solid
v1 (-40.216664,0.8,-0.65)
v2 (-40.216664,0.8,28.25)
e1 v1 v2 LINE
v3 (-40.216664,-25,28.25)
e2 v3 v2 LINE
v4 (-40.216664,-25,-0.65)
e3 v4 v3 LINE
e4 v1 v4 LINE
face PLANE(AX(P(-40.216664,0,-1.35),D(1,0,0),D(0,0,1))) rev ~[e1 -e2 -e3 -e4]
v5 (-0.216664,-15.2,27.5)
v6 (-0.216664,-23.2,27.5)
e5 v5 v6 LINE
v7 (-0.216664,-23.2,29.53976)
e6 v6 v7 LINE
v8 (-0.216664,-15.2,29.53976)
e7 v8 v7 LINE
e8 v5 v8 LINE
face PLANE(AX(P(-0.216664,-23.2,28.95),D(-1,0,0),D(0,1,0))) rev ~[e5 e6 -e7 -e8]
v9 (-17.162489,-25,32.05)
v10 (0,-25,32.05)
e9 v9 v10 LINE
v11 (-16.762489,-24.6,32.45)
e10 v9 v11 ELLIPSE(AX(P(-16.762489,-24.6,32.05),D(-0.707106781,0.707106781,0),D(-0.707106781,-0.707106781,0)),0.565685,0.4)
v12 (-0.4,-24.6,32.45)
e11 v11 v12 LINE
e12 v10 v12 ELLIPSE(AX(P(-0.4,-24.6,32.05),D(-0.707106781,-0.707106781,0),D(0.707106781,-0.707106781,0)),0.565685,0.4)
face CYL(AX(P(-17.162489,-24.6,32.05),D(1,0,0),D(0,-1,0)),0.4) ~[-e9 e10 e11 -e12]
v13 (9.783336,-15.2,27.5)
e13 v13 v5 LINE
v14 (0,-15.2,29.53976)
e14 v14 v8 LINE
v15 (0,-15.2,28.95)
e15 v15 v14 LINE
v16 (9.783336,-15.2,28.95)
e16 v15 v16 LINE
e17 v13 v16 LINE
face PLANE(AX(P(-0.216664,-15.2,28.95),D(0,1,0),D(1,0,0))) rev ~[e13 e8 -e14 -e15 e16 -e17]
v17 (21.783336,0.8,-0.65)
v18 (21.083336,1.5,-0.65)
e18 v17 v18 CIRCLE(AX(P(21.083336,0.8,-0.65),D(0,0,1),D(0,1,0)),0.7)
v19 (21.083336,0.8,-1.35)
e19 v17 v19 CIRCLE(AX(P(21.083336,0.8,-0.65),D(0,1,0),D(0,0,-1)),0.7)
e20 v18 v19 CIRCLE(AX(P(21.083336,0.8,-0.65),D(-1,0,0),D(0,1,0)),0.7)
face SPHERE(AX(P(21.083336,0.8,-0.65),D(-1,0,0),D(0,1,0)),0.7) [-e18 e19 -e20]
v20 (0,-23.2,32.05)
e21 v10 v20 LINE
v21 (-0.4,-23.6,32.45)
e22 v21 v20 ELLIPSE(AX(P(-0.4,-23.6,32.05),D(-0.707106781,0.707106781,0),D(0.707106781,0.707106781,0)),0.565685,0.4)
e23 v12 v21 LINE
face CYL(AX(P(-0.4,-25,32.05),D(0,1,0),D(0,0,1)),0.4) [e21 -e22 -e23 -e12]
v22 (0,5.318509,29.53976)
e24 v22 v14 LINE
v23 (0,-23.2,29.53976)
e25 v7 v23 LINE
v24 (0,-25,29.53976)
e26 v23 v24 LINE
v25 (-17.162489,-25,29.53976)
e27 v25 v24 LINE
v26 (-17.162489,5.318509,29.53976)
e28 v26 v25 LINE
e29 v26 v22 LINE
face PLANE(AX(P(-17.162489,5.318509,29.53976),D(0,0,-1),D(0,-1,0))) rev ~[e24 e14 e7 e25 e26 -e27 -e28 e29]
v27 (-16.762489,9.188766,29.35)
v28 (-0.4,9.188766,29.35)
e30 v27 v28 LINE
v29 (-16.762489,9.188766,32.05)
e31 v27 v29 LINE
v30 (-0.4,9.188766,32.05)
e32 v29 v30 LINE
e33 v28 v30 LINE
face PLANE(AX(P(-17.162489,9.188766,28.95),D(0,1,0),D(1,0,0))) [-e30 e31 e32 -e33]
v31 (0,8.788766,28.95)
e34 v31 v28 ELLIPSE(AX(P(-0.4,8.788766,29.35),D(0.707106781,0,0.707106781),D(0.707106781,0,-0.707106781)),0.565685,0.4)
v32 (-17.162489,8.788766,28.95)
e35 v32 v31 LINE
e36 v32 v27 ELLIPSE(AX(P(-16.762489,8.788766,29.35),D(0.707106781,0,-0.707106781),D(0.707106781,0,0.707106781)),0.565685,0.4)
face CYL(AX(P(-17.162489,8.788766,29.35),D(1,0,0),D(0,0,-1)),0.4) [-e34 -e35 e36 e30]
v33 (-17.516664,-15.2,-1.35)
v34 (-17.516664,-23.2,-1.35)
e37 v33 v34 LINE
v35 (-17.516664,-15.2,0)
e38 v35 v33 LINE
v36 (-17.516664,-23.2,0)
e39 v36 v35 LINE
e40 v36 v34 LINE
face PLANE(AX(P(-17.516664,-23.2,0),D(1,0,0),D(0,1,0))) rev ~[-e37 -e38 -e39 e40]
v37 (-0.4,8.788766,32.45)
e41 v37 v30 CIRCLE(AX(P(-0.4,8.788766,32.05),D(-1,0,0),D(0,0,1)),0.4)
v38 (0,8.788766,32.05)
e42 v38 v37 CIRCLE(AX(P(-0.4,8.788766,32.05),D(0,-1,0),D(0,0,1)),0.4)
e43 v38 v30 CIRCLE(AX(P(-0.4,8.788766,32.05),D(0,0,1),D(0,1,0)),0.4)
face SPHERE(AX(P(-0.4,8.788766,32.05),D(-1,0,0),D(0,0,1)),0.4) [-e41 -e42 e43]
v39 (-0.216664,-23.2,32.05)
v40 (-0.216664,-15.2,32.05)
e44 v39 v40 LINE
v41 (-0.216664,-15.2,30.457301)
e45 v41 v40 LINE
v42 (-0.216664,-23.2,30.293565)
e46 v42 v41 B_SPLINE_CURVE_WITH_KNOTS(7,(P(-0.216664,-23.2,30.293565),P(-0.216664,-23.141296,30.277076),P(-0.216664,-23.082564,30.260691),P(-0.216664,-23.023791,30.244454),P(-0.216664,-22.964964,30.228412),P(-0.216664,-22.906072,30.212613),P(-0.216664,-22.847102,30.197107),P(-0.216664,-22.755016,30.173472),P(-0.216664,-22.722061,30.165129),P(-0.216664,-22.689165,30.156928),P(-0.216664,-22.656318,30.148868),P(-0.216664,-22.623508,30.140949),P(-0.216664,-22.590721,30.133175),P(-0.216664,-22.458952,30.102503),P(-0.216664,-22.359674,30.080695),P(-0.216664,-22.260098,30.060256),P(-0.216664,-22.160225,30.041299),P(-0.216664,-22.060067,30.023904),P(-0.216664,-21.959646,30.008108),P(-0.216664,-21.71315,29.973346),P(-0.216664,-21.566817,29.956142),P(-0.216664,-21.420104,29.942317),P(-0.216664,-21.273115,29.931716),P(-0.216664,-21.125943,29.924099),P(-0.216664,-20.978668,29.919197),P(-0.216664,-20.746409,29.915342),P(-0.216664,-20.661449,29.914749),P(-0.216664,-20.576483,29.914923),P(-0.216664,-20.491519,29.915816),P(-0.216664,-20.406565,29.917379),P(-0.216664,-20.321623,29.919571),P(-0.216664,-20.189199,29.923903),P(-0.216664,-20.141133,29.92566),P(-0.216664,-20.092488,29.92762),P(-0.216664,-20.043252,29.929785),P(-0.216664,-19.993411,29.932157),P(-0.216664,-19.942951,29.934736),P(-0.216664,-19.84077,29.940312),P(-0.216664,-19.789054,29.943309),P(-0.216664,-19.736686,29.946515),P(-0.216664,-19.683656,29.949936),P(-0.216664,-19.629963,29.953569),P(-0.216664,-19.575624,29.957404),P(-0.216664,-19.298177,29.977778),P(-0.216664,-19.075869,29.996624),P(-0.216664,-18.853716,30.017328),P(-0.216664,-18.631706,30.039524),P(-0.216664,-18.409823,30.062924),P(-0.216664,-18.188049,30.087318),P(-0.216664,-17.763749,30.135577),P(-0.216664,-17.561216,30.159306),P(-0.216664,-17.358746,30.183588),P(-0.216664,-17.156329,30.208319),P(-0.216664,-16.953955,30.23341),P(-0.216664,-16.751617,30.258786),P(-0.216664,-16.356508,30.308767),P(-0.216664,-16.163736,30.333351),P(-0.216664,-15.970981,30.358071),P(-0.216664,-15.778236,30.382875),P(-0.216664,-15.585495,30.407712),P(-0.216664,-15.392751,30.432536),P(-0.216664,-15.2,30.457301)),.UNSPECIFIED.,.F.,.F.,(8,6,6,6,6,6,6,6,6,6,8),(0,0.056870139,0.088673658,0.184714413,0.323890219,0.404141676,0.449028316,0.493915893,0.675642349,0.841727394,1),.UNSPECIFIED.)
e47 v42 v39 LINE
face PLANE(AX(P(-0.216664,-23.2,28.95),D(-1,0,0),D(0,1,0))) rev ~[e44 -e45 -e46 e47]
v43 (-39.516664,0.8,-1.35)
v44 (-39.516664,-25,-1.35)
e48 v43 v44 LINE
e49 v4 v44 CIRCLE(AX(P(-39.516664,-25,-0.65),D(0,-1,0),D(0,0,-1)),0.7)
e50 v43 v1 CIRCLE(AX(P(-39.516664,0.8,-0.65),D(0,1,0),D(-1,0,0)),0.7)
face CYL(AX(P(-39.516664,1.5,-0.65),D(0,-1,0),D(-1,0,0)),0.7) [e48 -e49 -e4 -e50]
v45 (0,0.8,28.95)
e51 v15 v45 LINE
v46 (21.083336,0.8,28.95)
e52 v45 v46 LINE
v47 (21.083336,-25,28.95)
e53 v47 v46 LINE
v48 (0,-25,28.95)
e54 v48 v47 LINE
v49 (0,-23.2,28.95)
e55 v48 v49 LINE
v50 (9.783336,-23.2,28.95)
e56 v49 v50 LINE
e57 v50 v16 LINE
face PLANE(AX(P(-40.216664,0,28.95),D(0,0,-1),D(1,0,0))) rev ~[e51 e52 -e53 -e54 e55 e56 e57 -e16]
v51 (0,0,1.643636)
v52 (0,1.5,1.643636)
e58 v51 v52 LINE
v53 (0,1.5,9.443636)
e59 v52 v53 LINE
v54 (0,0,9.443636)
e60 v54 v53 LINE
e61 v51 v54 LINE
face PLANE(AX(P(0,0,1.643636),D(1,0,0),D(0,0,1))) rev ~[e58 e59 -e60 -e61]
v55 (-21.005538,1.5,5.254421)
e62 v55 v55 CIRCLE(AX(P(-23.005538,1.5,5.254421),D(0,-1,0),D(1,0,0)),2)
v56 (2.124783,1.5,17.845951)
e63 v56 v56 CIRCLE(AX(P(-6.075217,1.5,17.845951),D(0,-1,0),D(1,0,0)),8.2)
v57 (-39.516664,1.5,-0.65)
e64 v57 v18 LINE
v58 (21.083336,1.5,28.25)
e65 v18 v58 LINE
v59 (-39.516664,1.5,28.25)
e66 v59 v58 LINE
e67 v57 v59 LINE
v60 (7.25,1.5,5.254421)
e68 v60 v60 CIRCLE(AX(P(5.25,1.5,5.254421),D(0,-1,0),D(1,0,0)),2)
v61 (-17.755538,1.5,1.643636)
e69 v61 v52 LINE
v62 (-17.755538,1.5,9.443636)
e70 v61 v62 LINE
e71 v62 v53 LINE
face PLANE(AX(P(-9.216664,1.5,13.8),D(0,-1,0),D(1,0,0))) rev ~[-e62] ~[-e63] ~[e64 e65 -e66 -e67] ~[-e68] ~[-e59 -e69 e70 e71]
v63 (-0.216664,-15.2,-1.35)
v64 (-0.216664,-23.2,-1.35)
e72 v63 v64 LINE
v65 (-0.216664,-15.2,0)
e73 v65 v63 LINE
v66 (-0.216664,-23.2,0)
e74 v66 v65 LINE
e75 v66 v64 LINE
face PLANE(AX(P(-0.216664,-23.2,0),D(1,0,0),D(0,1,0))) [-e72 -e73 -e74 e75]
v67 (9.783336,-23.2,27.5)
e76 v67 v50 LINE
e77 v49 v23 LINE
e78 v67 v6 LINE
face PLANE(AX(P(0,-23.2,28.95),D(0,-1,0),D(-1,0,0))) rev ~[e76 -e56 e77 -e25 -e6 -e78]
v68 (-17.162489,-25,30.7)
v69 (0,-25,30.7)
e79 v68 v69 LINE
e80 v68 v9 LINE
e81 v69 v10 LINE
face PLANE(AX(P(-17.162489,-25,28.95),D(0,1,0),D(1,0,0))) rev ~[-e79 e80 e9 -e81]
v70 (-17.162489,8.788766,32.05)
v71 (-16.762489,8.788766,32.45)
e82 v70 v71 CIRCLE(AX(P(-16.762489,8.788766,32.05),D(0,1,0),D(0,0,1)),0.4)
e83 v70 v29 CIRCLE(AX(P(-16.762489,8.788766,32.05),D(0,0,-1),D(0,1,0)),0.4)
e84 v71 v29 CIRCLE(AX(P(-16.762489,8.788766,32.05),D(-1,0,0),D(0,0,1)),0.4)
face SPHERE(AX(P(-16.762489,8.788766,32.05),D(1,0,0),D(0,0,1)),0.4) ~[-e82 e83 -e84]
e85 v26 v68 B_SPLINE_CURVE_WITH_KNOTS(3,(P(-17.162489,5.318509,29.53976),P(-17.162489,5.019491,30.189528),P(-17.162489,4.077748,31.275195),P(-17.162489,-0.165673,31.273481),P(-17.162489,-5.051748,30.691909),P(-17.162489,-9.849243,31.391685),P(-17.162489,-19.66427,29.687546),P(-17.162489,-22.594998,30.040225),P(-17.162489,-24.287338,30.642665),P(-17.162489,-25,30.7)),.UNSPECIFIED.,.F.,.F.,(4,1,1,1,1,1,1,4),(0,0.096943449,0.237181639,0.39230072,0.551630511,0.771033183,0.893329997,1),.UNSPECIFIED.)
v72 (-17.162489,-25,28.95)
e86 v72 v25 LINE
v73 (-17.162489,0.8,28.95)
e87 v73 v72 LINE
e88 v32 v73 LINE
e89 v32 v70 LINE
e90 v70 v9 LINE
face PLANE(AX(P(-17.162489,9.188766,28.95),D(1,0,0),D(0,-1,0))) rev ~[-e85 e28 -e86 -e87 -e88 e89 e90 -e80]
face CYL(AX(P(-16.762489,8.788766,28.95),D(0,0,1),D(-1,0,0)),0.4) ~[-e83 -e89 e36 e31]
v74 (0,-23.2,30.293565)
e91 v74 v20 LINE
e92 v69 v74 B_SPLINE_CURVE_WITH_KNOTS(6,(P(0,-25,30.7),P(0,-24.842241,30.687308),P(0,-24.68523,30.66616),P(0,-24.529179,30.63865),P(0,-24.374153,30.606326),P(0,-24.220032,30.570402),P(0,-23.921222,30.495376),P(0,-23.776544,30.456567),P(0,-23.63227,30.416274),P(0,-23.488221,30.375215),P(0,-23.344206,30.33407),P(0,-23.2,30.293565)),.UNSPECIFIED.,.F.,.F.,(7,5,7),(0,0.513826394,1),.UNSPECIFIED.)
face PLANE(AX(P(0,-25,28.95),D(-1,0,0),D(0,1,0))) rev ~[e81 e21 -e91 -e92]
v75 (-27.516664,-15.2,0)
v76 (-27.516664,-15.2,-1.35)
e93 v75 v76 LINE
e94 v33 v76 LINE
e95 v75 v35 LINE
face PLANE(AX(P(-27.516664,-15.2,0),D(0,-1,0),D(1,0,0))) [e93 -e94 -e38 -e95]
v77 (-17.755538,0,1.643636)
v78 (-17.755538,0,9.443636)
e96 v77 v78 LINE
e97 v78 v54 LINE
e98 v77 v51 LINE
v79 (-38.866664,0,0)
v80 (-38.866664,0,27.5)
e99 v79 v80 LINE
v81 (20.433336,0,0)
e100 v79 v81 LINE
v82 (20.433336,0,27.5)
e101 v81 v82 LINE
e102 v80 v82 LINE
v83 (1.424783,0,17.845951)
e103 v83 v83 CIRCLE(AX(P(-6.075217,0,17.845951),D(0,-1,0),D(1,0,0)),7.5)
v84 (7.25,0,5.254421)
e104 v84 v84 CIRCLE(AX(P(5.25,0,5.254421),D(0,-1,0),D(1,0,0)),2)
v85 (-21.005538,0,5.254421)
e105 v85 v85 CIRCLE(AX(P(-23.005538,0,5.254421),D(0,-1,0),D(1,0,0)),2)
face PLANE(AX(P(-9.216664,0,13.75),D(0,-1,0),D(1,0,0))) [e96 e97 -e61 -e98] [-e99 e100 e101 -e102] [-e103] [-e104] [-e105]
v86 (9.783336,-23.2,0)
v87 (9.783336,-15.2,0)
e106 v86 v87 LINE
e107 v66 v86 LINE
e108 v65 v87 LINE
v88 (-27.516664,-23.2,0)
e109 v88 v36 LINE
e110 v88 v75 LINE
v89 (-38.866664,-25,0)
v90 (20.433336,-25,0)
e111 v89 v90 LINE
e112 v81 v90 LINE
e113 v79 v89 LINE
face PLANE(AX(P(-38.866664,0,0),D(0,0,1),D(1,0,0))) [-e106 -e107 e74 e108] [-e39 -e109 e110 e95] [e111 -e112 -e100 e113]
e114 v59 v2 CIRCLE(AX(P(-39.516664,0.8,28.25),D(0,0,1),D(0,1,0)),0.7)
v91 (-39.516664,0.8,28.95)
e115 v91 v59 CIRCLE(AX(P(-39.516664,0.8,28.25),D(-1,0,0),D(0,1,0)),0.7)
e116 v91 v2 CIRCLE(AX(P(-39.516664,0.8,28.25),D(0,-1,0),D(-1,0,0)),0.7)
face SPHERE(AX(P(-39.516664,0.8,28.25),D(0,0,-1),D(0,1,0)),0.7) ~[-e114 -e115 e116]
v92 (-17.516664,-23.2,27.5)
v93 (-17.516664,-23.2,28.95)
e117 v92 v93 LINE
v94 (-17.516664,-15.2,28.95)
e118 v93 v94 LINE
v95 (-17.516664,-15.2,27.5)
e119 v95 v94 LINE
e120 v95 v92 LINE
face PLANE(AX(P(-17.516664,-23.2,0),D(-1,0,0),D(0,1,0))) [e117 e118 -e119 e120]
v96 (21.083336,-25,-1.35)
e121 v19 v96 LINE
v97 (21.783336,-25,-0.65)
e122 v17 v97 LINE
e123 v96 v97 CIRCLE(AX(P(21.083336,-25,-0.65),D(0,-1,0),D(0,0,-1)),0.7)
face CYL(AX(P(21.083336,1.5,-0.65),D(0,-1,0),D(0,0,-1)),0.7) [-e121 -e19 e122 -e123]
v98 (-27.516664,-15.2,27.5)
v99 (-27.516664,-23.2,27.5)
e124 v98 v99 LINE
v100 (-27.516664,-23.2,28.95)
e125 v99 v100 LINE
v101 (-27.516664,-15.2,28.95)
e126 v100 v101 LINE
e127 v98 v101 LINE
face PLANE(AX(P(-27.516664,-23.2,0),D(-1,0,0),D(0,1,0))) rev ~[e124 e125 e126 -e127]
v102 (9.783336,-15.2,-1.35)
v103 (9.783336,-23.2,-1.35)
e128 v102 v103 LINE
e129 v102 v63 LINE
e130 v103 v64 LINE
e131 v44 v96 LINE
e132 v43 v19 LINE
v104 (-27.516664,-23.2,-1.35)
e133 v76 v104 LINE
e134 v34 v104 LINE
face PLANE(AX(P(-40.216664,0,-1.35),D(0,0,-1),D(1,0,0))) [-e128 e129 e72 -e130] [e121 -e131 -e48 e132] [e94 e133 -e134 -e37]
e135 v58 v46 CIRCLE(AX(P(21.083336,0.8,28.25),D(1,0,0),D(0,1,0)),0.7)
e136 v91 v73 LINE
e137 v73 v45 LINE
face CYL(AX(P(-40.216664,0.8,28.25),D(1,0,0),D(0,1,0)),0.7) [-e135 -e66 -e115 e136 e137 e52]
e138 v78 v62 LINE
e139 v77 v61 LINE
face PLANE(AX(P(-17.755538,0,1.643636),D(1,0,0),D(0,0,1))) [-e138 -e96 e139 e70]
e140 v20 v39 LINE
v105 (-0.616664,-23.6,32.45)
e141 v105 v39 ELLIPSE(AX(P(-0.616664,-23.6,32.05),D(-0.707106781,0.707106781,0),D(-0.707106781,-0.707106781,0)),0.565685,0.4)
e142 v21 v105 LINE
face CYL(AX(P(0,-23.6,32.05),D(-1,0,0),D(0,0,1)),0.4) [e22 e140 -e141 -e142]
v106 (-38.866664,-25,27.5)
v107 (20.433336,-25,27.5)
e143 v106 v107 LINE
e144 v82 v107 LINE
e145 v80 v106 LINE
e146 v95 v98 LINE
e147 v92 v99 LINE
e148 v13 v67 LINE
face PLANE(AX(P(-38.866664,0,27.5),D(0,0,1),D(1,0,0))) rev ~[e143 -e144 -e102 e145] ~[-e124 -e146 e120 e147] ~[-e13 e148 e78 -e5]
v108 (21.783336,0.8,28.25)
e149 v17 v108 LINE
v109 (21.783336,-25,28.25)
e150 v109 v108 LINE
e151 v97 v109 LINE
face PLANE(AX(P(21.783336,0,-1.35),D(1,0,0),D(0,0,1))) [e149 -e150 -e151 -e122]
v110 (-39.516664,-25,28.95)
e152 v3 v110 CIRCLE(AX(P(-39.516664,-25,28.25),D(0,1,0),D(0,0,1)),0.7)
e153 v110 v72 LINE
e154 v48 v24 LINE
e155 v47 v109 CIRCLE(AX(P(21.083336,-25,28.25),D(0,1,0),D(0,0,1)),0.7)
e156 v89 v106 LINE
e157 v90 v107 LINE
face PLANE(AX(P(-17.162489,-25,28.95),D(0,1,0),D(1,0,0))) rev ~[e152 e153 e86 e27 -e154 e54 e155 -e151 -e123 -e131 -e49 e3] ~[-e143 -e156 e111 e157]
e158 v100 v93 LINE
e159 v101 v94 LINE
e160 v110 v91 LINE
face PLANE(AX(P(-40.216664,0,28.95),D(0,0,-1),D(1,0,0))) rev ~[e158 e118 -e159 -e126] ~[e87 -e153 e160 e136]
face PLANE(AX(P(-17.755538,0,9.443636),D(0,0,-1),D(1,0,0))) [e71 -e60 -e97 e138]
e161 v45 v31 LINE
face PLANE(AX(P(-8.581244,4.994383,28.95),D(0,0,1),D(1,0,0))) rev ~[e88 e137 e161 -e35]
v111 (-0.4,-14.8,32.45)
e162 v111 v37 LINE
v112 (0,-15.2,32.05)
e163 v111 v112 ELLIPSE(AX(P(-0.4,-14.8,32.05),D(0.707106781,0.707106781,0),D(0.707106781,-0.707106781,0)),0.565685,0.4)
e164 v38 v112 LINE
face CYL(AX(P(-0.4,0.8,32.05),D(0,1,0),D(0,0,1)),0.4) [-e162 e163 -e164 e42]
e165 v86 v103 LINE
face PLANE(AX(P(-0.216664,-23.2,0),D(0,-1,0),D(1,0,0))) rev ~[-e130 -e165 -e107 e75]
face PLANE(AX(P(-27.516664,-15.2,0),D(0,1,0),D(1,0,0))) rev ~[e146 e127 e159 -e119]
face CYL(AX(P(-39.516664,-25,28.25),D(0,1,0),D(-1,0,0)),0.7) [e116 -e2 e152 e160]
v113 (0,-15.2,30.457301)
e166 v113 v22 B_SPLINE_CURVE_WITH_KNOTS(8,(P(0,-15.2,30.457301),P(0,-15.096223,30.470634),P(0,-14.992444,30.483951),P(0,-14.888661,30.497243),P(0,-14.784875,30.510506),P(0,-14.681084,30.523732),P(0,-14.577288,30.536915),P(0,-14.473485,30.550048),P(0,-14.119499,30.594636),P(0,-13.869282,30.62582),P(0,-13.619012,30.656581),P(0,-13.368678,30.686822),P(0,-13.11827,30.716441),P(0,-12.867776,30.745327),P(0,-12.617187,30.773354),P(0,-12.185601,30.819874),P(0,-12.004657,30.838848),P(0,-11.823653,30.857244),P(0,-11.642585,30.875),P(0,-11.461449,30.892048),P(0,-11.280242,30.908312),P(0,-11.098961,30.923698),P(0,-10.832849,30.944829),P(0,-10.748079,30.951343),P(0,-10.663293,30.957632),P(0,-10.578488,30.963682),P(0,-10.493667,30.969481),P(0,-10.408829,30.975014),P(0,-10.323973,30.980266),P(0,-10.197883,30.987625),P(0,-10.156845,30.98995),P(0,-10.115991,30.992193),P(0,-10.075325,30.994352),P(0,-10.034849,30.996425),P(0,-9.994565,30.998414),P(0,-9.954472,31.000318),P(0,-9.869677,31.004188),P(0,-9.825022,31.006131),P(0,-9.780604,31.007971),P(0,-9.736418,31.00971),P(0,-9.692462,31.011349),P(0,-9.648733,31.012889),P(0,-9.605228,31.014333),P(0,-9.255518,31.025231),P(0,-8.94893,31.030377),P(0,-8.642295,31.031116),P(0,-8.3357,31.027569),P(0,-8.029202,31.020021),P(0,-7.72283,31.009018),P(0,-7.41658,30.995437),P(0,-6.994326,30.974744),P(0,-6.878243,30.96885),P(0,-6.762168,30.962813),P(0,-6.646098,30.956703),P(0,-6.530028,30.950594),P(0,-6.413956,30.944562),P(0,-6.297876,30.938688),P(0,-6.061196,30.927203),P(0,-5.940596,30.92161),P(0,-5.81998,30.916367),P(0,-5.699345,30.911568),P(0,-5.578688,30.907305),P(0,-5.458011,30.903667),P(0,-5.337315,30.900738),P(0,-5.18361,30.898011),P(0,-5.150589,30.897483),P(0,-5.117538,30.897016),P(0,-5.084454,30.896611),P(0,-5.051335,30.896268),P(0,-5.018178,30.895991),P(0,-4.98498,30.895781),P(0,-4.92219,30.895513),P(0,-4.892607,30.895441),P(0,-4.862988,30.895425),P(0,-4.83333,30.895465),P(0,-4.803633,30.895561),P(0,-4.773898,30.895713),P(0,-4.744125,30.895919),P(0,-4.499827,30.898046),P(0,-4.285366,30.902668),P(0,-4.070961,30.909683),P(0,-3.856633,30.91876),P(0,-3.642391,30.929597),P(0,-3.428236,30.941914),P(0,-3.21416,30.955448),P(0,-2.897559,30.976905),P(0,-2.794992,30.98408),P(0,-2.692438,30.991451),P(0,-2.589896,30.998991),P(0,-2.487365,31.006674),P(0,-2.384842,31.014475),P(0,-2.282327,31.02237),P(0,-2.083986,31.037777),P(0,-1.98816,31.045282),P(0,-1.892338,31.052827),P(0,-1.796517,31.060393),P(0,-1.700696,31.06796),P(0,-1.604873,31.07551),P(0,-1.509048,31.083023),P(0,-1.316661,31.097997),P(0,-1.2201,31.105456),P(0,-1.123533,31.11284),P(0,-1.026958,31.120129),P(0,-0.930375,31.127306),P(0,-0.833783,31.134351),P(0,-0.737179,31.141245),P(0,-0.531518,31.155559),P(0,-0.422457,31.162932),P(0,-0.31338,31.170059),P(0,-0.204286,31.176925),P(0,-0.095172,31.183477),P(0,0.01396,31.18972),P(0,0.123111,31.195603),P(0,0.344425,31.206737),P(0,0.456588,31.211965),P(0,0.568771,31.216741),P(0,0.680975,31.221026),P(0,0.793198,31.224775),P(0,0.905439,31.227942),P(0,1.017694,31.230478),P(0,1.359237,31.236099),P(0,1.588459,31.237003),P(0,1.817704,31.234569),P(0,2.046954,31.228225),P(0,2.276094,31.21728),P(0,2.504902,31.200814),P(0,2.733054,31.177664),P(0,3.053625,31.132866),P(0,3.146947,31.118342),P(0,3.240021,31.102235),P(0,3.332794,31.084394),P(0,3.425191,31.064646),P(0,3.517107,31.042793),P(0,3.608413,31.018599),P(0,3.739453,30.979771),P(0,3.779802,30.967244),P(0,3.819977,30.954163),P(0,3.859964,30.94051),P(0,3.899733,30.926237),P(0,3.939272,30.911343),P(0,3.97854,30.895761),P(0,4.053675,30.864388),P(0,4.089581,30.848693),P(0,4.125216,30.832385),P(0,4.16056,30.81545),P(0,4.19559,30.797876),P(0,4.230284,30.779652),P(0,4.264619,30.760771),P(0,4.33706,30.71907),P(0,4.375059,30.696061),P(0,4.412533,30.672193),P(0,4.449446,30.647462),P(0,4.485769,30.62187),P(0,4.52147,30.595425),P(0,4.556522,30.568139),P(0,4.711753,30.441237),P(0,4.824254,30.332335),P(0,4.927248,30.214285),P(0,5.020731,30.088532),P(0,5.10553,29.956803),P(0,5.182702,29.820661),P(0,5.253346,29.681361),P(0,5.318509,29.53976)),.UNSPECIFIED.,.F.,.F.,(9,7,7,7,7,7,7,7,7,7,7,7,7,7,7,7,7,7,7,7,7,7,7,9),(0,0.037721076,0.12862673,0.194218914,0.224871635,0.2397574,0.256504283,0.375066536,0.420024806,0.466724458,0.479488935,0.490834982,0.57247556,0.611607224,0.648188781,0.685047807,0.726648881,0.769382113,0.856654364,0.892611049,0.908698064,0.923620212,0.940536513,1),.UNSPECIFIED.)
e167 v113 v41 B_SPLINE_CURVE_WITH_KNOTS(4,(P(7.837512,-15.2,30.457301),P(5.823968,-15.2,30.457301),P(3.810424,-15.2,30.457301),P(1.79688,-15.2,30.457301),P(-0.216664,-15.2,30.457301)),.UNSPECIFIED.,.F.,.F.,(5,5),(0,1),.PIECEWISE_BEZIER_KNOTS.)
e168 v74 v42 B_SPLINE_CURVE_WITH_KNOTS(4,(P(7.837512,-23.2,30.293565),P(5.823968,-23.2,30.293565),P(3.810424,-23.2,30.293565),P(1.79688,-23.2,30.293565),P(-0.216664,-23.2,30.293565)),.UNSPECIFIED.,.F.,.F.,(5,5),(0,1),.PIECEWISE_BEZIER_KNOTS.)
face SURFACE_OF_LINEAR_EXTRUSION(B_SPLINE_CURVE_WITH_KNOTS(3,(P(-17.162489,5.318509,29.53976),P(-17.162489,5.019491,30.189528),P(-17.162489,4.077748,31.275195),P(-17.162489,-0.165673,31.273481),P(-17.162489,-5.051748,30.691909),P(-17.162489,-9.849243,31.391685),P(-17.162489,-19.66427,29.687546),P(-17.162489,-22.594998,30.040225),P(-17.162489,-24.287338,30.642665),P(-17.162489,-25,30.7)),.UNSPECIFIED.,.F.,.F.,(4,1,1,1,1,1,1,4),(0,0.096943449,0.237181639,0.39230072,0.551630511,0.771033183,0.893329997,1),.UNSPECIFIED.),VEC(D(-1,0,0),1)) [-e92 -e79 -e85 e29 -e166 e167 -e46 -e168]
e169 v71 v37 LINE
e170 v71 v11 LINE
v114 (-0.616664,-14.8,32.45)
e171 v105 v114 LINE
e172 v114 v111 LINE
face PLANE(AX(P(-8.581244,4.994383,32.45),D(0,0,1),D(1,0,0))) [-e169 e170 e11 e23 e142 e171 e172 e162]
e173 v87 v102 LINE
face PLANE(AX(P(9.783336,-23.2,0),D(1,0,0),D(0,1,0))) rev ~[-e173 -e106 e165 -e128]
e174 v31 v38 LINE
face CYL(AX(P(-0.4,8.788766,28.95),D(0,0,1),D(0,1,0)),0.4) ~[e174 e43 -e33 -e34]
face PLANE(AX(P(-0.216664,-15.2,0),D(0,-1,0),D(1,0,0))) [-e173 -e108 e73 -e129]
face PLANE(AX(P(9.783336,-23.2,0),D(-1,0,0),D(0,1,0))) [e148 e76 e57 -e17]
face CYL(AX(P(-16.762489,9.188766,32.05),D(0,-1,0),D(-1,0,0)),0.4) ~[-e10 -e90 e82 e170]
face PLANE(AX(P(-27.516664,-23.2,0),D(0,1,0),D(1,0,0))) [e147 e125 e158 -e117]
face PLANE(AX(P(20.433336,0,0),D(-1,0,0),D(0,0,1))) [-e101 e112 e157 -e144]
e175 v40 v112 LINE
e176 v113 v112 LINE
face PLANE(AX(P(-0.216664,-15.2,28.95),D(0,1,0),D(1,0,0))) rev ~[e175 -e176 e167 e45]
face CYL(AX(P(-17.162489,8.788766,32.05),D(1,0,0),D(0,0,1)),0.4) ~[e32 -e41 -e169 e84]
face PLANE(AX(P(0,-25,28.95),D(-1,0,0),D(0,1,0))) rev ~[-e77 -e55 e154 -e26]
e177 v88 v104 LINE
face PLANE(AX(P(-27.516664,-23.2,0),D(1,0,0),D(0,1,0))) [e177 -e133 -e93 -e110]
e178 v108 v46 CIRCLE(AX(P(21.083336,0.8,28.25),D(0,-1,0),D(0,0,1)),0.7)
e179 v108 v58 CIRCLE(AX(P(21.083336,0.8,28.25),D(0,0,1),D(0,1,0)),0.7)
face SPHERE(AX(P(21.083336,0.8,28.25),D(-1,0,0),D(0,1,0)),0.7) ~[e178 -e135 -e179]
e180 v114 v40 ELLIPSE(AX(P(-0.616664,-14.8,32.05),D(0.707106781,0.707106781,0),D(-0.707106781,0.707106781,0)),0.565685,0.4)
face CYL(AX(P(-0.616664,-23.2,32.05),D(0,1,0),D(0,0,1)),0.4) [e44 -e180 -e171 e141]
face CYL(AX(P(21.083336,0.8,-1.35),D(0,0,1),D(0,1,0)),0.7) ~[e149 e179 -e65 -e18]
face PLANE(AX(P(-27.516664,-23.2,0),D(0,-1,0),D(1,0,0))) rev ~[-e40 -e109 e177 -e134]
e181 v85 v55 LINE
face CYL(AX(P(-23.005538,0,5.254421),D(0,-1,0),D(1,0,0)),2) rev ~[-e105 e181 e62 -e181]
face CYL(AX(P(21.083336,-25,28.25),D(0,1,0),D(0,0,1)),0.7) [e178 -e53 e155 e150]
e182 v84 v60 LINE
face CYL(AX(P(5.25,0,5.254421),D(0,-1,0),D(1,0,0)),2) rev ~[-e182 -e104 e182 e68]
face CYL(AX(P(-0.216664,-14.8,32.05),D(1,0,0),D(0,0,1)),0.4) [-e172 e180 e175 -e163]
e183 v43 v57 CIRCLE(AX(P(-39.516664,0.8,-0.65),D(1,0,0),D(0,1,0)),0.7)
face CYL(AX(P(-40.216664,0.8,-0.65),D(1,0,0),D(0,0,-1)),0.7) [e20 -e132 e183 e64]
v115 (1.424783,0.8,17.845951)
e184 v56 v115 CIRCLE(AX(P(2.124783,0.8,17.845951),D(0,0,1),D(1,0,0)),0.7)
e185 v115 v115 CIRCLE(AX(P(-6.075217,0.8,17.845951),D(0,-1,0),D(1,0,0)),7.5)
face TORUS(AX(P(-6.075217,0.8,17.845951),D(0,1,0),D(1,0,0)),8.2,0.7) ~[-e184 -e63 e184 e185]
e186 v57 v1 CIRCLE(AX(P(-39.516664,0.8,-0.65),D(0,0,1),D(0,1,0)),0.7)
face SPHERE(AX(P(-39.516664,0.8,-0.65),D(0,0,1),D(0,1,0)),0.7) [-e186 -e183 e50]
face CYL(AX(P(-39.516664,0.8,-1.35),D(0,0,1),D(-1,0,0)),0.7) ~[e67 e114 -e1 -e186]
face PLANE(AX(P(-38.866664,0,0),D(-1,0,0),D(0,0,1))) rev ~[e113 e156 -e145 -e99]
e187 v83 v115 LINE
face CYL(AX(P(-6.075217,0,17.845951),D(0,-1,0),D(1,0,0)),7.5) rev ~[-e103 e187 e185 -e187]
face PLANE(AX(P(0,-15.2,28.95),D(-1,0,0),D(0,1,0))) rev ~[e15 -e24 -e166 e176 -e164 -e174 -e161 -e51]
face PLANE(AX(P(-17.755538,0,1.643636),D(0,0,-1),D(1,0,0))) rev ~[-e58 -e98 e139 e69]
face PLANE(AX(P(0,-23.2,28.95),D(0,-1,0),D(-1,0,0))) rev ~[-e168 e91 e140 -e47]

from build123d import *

# Parameters (mm, degrees)
F1_W           = 62
F1_H           = 30.3
F2_DEPTH       = 25
F2_DEPTH_BACK  = 1.5
F0_W           = 59.3
F0_H           = 27.5
F3_DEPTH       = 25
F4_R           = 7.5
F5_DEPTH       = 5
F6_R           = 0.7
F7_W           = 10
F7_H           = 8
F8_DEPTH       = 45
F8_DEPTH_BACK  = 5
F9_W           = 10
F9_H           = 8
F10_DEPTH      = 45
F10_DEPTH_BACK = 5
F11_W          = 17.1624887735
F11_H          = 8.3887656599
F12_DEPTH      = 3.5
F14_DEPTH      = 25
F15_R          = 2
F15_W          = 17.7555382252
F15_H          = 7.8
F16_DEPTH      = 5
F17_R          = 0.4


with BuildPart() as f2:
    # F1 (on Front) → F2 (new body, two sides)
    with BuildSketch(Plane.XZ) as f2_sk:
        with Locations((-9.2166643556, 13.8)):
            Rectangle(F1_W, F1_H)
    extrude(amount=F2_DEPTH)
    extrude(f2_sk.sketch, amount=-F2_DEPTH_BACK)

    # F0 (on Front) → F3 (cut)
    with BuildSketch(Plane.XZ):
        with Locations((-9.2166643556, 13.75)):
            Rectangle(F0_W, F0_H)
    extrude(amount=F3_DEPTH, mode=Mode.SUBTRACT)

    # F4 (on face) → F5 (cut)
    with BuildSketch(Plane.XZ):
        with Locations((-6.0752169229, 17.8459510207)):
            Circle(F4_R)
    extrude(amount=-F5_DEPTH, mode=Mode.SUBTRACT)

    # F6
    f6_edges = [f2.edges().sort_by_distance(p)[0] for p in [
        (-40.216664, 1.5, 13.8),
        (-9.216664, 1.5, 28.95),
        (-9.216664, 1.5, -1.35),
        (21.783336, 1.5, 13.8),
        (-13.575217, 1.5, 17.845951),
        (-40.216664, -11.75, -1.35),
        (21.783336, -11.75, -1.35),
        (-40.216664, -11.75, 28.95),
        (21.783336, -11.75, 28.95),
    ]]
    fillet(f6_edges, radius=F6_R)

    # F7 (on Top) → F8 (cut, two sides)
    with BuildSketch(Plane.XY) as f8_sk:
        with Locations((-22.5166643556, -19.2)):
            Rectangle(F7_W, F7_H)
    extrude(amount=F8_DEPTH, mode=Mode.SUBTRACT)
    extrude(f8_sk.sketch, amount=-F8_DEPTH_BACK, mode=Mode.SUBTRACT)

    # F9 (on Top) → F10 (cut, two sides)
    with BuildSketch(Plane.XY) as f10_sk:
        with Locations((4.7833356444, -19.2)):
            Rectangle(F9_W, F9_H)
    extrude(amount=F10_DEPTH, mode=Mode.SUBTRACT)
    extrude(f10_sk.sketch, amount=-F10_DEPTH_BACK, mode=Mode.SUBTRACT)

    # F11 (on face) → F12 (join)
    with BuildSketch(Plane.XY.offset(28.95)):
        with Locations((-8.5812443867, 4.99438283)):
            Rectangle(F11_W, F11_H)
        Polygon((-17.1624887735, 0.8), (-17.1624887735, -25), (0, -25), (0, -23.2), (-0.2166643556, -23.2), (-0.2166643556, -15.2), (0, -15.2), (0, 0.8), align=None)
    extrude(amount=F12_DEPTH)

    # F13 (on face) → F14 (cut)
    with BuildSketch(Plane(origin=(-17.1624887735, 0, 0), x_dir=(0, -1, 0), z_dir=(-1, 0, 0))):
        with BuildLine():
            Line((25, 29.5397602022), (25, 30.7))
            add(Edge.make_bspline(
                [(-5.3185094148, 29.5397602022), (-5.0194907216, 30.1895282865), (-4.0777484074, 31.2751947082), (0.1656733941, 31.273480595), (5.0517480146, 30.6919086163), (9.849243279, 31.3916847552), (19.6642698069, 29.6875462454), (22.594998302, 30.0402251841), (24.287338472, 30.642664728), (25, 30.7)],
                knots=[0, 0, 0, 0, 0.0969434491, 0.2371816387, 0.3923007199, 0.5516305114, 0.7710331834, 0.8933299971, 1, 1, 1, 1], degree=3))
            Line((-5.3185094148, 29.5397602022), (25, 29.5397602022))
        make_face()
    extrude(amount=-F14_DEPTH, mode=Mode.SUBTRACT)

    # F15 (on face) → F16 (cut)
    with BuildSketch(Plane.XZ):
        with Locations((-23.0055382252, 5.2544213831)):
            Circle(F15_R)
        with Locations((5.25, 5.2544213831)):
            Circle(F15_R)
        with Locations((-8.8777691126, 5.5436356924)):
            Rectangle(F15_W, F15_H)
    extrude(amount=-F16_DEPTH, mode=Mode.SUBTRACT)

    # F17
    f17_edges = [f2.edges().sort_by_distance(p)[0] for p in [
        (-8.581244, 9.188766, 32.45),
        (-17.162489, -7.905617, 32.45),
        (-8.581244, -25, 32.45),
        (0, -24.1, 32.45),
        (-0.108332, -23.2, 32.45),
        (-0.216664, -19.2, 32.45),
        (-0.108332, -15.2, 32.45),
        (0, -3.005617, 32.45),
        (-8.581244, 9.188766, 28.95),
        (0, 9.188766, 30.7),
        (-17.162489, 9.188766, 30.7),
    ]]
    fillet(f17_edges, radius=F17_R)


solid = f2.part
